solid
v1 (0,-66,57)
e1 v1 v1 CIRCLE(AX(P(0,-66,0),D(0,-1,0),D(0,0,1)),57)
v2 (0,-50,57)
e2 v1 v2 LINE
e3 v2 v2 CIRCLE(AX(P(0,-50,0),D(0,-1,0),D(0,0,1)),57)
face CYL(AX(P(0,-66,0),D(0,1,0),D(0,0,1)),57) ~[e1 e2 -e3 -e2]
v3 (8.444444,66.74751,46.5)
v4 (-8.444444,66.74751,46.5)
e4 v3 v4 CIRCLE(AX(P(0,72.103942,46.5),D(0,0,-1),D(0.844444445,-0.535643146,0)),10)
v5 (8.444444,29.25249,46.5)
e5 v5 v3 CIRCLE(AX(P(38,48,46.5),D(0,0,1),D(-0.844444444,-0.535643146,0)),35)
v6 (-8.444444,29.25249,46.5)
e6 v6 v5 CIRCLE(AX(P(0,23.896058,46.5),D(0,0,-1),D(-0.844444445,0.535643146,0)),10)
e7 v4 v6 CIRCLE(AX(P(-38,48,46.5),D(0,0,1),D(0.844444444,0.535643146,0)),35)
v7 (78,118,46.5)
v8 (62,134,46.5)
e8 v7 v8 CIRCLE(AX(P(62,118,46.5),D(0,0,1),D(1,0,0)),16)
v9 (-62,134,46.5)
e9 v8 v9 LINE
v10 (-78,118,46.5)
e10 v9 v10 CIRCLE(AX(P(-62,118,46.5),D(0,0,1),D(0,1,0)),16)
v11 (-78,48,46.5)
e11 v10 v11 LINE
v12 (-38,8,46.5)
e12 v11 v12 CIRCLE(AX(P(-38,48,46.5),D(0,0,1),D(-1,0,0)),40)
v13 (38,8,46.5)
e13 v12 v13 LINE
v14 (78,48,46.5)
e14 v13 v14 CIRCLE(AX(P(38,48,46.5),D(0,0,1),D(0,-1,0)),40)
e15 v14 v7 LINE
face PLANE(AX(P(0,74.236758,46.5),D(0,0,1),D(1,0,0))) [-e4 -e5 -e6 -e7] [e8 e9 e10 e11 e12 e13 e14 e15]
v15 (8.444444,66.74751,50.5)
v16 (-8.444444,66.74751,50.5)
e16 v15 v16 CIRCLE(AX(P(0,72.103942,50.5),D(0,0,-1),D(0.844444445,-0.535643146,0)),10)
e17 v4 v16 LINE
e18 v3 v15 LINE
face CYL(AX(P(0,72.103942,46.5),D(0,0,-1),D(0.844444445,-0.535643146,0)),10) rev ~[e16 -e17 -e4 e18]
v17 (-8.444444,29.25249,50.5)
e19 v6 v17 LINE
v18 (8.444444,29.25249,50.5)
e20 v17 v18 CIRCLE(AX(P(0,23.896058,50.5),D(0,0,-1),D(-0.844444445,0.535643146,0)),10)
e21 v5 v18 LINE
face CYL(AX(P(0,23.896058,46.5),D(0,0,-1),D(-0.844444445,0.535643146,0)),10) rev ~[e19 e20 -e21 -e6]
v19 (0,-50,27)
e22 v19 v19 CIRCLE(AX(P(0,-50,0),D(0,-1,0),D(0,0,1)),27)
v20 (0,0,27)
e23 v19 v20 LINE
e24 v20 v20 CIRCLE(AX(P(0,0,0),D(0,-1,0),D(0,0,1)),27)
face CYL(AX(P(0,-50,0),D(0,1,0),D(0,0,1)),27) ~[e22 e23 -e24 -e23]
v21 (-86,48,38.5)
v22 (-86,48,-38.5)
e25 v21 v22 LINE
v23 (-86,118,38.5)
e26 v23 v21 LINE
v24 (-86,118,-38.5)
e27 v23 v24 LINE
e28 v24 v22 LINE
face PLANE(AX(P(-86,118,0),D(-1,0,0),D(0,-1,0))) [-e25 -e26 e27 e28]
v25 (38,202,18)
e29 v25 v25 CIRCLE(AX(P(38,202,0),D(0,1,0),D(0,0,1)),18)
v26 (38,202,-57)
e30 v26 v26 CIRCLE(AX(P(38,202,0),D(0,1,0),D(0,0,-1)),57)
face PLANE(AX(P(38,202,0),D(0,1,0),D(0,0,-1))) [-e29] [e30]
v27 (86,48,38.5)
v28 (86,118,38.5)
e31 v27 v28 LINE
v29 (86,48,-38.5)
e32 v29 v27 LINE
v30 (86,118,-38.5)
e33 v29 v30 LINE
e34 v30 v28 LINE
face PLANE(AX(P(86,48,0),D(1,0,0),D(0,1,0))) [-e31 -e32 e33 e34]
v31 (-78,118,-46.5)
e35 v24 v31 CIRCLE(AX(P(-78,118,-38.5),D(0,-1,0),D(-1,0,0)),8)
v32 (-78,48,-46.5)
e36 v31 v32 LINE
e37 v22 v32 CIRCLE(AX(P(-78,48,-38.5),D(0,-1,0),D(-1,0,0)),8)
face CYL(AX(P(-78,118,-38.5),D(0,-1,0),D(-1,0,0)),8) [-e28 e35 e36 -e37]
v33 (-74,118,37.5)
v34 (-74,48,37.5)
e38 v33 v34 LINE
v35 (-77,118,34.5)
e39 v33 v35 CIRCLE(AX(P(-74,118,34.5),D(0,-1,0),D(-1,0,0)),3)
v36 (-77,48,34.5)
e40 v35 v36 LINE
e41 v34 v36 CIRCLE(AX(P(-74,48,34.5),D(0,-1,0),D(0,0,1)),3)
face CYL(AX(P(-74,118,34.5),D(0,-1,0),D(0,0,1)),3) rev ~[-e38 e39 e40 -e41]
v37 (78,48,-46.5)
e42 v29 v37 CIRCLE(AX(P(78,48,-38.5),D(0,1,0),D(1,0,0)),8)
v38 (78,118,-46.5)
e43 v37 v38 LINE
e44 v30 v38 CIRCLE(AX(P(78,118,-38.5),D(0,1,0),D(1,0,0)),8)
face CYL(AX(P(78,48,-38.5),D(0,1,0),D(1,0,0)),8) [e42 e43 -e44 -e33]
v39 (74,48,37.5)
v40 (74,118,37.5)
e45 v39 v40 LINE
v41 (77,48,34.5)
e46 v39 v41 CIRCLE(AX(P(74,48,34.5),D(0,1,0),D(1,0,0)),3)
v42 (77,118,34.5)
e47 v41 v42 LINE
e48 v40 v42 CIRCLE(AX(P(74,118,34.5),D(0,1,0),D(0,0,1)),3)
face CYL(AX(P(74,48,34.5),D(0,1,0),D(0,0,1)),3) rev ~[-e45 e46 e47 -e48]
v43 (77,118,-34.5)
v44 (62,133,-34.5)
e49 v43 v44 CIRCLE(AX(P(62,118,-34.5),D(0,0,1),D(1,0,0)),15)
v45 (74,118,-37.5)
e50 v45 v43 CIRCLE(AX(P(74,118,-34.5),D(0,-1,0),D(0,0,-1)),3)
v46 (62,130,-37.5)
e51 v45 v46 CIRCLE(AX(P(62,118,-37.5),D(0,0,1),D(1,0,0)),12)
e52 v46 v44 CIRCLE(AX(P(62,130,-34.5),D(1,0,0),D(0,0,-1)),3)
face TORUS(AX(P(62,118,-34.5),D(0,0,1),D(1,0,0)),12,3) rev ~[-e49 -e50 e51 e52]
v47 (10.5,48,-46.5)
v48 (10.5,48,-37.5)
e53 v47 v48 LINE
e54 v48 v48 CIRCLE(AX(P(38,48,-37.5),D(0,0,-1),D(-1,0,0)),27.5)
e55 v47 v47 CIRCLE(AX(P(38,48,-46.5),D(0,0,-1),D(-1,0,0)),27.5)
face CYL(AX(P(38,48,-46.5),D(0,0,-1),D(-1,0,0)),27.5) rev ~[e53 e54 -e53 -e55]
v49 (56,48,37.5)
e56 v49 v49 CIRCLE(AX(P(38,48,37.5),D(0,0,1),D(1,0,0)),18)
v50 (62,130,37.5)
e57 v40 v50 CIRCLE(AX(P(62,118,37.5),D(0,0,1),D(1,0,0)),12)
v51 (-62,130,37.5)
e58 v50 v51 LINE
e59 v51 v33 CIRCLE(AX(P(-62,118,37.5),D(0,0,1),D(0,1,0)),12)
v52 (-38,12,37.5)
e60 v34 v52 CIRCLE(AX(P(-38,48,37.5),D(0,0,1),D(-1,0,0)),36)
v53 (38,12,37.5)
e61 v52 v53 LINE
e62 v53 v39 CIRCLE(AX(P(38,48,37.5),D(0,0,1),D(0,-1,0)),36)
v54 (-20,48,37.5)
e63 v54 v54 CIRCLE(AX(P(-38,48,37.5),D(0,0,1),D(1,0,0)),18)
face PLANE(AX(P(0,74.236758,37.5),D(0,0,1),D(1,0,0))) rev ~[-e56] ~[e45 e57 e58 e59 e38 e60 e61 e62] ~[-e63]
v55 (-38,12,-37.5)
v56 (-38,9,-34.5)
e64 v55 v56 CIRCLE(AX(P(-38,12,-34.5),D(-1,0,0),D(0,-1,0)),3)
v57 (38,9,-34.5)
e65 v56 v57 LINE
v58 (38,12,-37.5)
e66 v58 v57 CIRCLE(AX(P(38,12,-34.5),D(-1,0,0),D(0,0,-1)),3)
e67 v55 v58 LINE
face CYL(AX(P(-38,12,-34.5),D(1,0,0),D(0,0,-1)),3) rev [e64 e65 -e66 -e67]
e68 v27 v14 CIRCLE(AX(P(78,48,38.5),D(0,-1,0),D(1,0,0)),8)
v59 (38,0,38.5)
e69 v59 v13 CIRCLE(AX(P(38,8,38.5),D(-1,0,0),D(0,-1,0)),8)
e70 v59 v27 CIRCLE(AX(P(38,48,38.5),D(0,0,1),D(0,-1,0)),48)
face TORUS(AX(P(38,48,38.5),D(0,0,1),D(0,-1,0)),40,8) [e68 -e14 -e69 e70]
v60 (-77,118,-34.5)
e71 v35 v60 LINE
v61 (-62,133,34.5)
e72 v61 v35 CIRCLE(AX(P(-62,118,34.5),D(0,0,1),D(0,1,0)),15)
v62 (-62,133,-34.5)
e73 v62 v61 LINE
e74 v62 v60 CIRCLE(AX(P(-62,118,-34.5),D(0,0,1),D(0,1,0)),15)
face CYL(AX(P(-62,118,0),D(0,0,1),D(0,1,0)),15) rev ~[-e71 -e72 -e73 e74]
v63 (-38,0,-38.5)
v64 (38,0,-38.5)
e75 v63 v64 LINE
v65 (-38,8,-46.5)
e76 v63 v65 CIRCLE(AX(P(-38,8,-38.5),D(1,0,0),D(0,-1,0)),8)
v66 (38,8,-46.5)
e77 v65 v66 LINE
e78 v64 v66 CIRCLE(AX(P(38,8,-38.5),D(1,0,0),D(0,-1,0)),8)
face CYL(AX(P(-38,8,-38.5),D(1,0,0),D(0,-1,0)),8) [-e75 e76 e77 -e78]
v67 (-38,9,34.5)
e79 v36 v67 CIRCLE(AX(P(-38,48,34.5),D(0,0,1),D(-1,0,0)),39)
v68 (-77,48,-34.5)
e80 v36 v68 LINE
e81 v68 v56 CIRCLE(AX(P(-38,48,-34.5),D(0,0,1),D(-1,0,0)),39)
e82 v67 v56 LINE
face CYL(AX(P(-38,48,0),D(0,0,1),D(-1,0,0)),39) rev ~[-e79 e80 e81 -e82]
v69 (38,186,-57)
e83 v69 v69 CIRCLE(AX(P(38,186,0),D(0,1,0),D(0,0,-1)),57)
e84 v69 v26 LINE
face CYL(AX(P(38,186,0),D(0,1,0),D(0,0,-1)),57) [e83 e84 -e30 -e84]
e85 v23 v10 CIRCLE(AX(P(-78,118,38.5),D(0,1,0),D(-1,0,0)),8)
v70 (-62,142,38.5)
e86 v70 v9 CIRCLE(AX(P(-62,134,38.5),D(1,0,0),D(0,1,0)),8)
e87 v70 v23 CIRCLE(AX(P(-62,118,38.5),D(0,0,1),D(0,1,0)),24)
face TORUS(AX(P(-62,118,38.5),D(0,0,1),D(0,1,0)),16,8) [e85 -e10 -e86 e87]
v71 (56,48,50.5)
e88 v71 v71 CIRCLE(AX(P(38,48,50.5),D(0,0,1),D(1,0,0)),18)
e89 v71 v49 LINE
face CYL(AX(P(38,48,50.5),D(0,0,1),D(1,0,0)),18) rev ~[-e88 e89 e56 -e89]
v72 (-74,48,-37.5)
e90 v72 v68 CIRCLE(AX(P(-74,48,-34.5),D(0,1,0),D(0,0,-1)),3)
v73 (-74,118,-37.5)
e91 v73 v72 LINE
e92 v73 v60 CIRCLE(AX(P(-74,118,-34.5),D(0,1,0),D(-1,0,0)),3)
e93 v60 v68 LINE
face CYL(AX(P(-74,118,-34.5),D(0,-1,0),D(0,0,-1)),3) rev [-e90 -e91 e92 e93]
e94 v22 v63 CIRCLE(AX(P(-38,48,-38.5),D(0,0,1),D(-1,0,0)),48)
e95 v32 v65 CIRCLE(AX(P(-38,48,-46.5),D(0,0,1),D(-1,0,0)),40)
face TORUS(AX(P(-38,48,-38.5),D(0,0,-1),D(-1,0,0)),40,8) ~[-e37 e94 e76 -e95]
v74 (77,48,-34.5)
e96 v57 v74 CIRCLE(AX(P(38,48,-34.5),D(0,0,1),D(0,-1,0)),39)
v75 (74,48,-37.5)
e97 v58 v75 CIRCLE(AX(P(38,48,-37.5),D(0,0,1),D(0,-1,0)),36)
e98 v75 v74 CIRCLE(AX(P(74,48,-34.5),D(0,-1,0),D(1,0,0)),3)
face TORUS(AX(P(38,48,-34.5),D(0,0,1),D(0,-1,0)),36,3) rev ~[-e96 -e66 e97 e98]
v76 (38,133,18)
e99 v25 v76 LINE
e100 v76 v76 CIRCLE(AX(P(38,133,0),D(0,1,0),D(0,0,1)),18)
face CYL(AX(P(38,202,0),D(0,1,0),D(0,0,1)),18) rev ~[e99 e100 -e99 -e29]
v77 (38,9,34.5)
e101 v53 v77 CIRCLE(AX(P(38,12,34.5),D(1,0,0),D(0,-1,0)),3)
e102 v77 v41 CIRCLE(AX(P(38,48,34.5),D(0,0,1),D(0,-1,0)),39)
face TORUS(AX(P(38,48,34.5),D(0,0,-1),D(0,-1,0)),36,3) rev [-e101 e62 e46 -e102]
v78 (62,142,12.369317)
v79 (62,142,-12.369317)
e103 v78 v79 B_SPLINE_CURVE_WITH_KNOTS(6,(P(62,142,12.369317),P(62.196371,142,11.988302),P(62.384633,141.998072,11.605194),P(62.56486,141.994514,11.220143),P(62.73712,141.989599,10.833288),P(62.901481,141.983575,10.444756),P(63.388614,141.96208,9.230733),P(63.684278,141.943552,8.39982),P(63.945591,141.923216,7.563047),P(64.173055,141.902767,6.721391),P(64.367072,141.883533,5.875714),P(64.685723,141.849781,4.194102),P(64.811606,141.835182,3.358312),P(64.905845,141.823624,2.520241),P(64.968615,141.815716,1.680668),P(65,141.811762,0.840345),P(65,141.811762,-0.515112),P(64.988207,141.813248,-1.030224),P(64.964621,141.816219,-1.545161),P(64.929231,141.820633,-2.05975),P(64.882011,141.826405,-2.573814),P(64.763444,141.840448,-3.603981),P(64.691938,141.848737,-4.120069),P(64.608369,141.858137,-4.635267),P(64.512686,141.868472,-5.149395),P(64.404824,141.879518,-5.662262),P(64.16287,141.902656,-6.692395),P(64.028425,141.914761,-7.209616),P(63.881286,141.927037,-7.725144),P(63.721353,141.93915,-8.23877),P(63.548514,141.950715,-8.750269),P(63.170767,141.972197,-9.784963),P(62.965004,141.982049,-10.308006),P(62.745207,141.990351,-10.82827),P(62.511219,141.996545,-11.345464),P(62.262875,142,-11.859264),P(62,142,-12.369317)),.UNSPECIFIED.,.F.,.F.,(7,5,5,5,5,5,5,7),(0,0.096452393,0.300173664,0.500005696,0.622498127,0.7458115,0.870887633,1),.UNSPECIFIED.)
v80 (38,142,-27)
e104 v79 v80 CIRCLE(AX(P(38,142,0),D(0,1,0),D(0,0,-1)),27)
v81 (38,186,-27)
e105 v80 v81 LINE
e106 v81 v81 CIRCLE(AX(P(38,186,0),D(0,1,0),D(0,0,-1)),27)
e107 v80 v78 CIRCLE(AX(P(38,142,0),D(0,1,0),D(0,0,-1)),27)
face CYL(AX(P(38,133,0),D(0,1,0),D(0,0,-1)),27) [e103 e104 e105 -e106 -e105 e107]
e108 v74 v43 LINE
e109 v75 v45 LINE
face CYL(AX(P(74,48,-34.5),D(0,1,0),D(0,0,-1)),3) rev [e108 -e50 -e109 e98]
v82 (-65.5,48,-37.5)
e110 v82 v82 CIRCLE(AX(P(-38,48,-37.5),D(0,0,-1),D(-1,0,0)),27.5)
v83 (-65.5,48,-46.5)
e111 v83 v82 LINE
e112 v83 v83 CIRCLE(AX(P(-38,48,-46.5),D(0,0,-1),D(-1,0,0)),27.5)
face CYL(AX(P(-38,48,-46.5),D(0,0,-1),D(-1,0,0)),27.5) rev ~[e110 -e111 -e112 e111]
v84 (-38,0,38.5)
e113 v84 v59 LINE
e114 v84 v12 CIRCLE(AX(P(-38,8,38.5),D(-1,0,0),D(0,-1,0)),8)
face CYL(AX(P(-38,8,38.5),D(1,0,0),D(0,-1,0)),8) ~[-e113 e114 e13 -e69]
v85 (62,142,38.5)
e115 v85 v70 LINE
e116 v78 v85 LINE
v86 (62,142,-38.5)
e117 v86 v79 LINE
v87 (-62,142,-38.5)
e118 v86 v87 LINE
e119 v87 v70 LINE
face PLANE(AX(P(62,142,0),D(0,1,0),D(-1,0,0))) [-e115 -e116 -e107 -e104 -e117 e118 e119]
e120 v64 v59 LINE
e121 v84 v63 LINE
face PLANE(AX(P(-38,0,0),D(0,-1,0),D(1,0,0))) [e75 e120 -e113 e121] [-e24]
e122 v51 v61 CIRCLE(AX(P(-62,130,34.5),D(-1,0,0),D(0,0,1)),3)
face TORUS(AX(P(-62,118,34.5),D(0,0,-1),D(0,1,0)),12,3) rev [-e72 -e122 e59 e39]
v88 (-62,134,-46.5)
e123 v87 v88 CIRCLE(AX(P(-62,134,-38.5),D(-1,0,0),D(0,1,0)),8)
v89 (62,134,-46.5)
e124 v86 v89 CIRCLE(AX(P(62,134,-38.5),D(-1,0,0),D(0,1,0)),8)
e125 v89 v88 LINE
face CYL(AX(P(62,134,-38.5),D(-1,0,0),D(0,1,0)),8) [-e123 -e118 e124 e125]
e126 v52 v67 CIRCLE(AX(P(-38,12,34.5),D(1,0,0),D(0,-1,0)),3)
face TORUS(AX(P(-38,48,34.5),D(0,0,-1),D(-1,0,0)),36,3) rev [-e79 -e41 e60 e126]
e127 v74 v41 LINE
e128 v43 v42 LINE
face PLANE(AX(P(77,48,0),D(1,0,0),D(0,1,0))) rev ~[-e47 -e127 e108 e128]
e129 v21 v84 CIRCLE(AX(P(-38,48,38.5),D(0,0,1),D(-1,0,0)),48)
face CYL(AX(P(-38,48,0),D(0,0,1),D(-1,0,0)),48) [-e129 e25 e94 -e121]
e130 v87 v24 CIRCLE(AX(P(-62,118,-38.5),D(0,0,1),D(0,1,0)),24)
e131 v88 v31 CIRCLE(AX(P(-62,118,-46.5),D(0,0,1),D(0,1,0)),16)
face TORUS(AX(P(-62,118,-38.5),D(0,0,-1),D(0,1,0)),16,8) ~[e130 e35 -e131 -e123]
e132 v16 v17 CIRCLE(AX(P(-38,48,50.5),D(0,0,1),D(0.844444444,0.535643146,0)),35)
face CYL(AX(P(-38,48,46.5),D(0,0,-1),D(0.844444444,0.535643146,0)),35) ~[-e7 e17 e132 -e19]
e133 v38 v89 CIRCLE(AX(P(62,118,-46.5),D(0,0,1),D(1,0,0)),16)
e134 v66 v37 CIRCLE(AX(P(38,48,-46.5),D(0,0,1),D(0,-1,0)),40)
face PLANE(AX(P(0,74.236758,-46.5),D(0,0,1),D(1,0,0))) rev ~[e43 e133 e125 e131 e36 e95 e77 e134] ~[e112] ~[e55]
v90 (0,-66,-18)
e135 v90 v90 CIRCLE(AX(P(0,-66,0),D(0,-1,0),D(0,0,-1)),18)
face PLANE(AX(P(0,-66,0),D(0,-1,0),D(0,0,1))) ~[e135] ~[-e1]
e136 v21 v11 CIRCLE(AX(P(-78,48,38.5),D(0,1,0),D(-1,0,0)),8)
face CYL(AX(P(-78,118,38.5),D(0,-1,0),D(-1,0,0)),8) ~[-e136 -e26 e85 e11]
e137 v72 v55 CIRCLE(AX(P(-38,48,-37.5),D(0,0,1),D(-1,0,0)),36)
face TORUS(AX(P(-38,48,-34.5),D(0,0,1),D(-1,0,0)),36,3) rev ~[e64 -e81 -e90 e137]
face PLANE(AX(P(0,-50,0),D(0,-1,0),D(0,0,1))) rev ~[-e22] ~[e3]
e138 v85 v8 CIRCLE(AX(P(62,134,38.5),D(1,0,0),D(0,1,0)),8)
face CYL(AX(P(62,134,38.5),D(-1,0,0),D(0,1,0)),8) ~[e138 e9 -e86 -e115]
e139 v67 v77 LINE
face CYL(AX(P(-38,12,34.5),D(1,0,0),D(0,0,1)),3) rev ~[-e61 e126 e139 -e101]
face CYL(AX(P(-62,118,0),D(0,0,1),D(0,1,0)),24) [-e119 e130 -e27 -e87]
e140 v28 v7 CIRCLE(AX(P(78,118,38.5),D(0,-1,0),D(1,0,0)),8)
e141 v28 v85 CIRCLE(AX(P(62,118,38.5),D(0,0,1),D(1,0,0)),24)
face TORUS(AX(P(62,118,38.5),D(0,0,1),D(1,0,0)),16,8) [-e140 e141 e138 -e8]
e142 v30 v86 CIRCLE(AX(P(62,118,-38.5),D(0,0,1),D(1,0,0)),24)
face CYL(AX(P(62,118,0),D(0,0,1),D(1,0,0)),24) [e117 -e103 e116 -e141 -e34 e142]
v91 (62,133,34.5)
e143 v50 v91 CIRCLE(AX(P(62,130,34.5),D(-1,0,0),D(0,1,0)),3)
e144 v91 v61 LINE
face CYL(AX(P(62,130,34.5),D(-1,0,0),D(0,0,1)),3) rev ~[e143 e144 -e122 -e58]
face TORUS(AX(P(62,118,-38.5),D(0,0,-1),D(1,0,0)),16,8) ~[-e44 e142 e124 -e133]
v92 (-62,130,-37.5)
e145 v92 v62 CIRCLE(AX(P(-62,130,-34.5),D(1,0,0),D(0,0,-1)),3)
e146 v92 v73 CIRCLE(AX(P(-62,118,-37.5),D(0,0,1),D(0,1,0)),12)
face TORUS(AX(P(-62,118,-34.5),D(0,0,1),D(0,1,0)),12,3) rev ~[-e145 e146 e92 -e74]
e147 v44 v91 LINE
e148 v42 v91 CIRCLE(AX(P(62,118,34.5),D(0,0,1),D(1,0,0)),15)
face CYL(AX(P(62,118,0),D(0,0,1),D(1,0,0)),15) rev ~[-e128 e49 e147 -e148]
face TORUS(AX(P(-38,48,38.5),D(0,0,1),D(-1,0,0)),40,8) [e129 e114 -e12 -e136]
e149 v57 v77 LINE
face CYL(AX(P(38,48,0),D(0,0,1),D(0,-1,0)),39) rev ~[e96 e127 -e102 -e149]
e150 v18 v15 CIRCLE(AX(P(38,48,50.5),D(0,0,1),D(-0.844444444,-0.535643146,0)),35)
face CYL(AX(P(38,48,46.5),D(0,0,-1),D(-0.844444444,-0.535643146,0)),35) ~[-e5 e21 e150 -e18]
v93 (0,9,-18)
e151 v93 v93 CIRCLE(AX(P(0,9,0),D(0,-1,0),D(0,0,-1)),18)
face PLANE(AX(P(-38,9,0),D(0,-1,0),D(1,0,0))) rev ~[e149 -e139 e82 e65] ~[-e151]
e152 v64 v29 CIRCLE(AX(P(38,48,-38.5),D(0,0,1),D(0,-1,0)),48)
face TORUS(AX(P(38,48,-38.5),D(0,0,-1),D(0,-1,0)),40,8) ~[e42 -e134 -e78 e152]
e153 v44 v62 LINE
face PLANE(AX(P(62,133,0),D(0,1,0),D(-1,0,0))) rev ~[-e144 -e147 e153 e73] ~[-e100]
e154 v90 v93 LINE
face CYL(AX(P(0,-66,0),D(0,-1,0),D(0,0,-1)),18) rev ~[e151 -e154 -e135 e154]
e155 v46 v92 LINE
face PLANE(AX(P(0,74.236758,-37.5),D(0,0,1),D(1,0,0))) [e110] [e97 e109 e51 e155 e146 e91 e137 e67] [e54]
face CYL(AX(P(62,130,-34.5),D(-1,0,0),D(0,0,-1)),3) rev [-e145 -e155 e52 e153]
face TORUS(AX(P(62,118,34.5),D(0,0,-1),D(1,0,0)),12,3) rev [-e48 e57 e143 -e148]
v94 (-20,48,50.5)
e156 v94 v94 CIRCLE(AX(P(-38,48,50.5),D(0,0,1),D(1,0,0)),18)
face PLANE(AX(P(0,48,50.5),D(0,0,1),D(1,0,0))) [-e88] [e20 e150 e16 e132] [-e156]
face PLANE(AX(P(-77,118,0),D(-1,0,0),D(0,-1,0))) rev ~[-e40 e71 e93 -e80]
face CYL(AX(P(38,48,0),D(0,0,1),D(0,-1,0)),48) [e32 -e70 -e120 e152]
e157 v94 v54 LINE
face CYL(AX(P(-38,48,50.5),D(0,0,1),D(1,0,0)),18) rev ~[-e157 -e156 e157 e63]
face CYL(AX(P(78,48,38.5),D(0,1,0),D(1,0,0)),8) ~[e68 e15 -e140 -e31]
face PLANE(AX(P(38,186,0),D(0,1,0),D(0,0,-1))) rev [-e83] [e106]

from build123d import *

# Parameters (mm, degrees)
EXTRUDE_1_DEPTH     = 46.5
FILLET_1_R          = 8
SHELL_1_T           = 9
FILLET_2_R          = 3
EXTRUDE_2_DEPTH     = 4
CUT_EXTRUDE_1_REACH = 194.273
SKETCH_3_R          = 18
CUT_EXTRUDE_2_REACH = 194.273
SKETCH_4_R          = 27.5
CUT_EXTRUDE_3_REACH = 291.997
SKETCH_7_R          = 18
CUT_EXTRUDE_4_REACH = 291.997
SKETCH_8_R          = 18


with BuildPart() as part:
    # 草圖1 → 伸長1 (new, symmetric)
    with BuildSketch(Plane.XY):
        with BuildLine():
            Line((-38, 0), (38, 0))
            ThreePointArc((38, 0), (71.941125497, 14.058874503), (86, 48))
            Line((86, 48), (86, 118))
            ThreePointArc((86, 118), (78.970562748, 134.970562748), (62, 142))
            Line((62, 142), (-62, 142))
            ThreePointArc((-62, 142), (-78.970562748, 134.970562748), (-86, 118))
            Line((-86, 118), (-86, 48))
            ThreePointArc((-86, 48), (-71.941125497, 14.058874503), (-38, 0))
        make_face()
    extrude(amount=EXTRUDE_1_DEPTH, both=True)

    # 圓角1
    fillet_1_edges = [part.edges().sort_by_distance(p)[0] for p in [
        (78.970562748, 134.970562748, 46.5),
        (0, 142, 46.5),
        (-78.970562748, 134.970562748, 46.5),
        (-86, 83, 46.5),
        (-71.941125497, 14.058874503, 46.5),
        (0, 0, 46.5),
        (71.941125497, 14.058874503, 46.5),
        (0, 0, -46.5),
        (86, 83, 46.5),
        (-71.941125497, 14.058874503, -46.5),
        (-86, 83, -46.5),
        (-78.970562748, 134.970562748, -46.5),
        (0, 142, -46.5),
        (78.970562748, 134.970562748, -46.5),
        (86, 83, -46.5),
        (71.941125497, 14.058874503, -46.5),
    ]]
    fillet(fillet_1_edges, radius=FILLET_1_R)

    # 薄殼1 (no face opened: a closed hollow body)
    add(offset(amount=-SHELL_1_T, mode=Mode.PRIVATE), mode=Mode.SUBTRACT)

    # 圓角2
    fillet_2_edges = [part.edges().sort_by_distance(p)[0] for p in [
        (65.577164466, 20.422835534, 37.5),
        (77, 83, 37.5),
        (72.606601718, 128.606601718, 37.5),
        (0, 133, -37.5),
        (-72.606601718, 128.606601718, -37.5),
        (-77, 83, -37.5),
        (-65.577164466, 20.422835534, 37.5),
        (0, 9, 37.5),
        (0, 133, 37.5),
        (-72.606601718, 128.606601718, 37.5),
        (-77, 83, 37.5),
        (72.606601718, 128.606601718, -37.5),
        (77, 83, -37.5),
        (65.577164466, 20.422835534, -37.5),
        (0, 9, -37.5),
        (-65.577164466, 20.422835534, -37.5),
    ]]
    fillet(fillet_2_edges, radius=FILLET_2_R)

    # 草圖2 → 伸長2 (add)
    with BuildSketch(Plane.XY.offset(46.5)):
        with BuildLine():
            ThreePointArc((8.444444444, 29.252489877), (73, 48), (8.444444444, 66.747510123))
            ThreePointArc((8.444444444, 66.747510123), (0, 62.103941586), (-8.444444444, 66.747510123))
            ThreePointArc((-8.444444444, 66.747510123), (-73, 48), (-8.444444444, 29.252489877))
            ThreePointArc((-8.444444444, 29.252489877), (0, 33.896058414), (8.444444444, 29.252489877))
        make_face()
    extrude(amount=EXTRUDE_2_DEPTH)

    # 草圖3 → 除料-伸長1 (cut, up to next)
    with BuildSketch(Plane.XY.offset(50.5), mode=Mode.PRIVATE) as cut_extrude_1_sk1:
        with Locations((38, 48)):
            Circle(SKETCH_3_R)
    cut_extrude_1_tool1 = extrude(cut_extrude_1_sk1.sketch, amount=-CUT_EXTRUDE_1_REACH, mode=Mode.PRIVATE) & part.part
    # 草圖3 → 除料-伸長1 (cut, up to next)
    with BuildSketch(Plane.XY.offset(50.5), mode=Mode.PRIVATE) as cut_extrude_1_sk2:
        with Locations((-38, 48)):
            Circle(SKETCH_3_R)
    cut_extrude_1_tool2 = extrude(cut_extrude_1_sk2.sketch, amount=-CUT_EXTRUDE_1_REACH, mode=Mode.PRIVATE) & part.part
    add(cut_extrude_1_tool1.solids().sort_by_distance((38, 48, 50.5))[0], mode=Mode.SUBTRACT)
    add(cut_extrude_1_tool2.solids().sort_by_distance((-38, 48, 50.5))[0], mode=Mode.SUBTRACT)

    # 草圖4 → 除料-伸長2 (cut, up to next)
    with BuildSketch(Plane(origin=(0, 0, -46.5), x_dir=(-1, 0, 0), z_dir=(0, 0, -1)), mode=Mode.PRIVATE) as cut_extrude_2_sk1:
        with Locations((-38, 48)):
            Circle(SKETCH_4_R)
    cut_extrude_2_tool1 = extrude(cut_extrude_2_sk1.sketch, amount=-CUT_EXTRUDE_2_REACH, mode=Mode.PRIVATE) & part.part
    # 草圖4 → 除料-伸長2 (cut, up to next)
    with BuildSketch(Plane(origin=(0, 0, -46.5), x_dir=(-1, 0, 0), z_dir=(0, 0, -1)), mode=Mode.PRIVATE) as cut_extrude_2_sk2:
        with Locations((38, 48)):
            Circle(SKETCH_4_R)
    cut_extrude_2_tool2 = extrude(cut_extrude_2_sk2.sketch, amount=-CUT_EXTRUDE_2_REACH, mode=Mode.PRIVATE) & part.part
    add(cut_extrude_2_tool1.solids().sort_by_distance((38, 48, -46.5))[0], mode=Mode.SUBTRACT)
    add(cut_extrude_2_tool2.solids().sort_by_distance((-38, 48, -46.5))[0], mode=Mode.SUBTRACT)

    # 草圖5 → 旋轉1 (revolve)
    with BuildSketch(Plane.XY, mode=Mode.PRIVATE) as revolve_1_sk:
        Polygon((0, -66), (57, -66), (57, -50), (27, -50), (27, 0), (0, 0), align=None)
    revolve(revolve_1_sk.sketch.rotate(Axis((0, 0, 0), (0, -1, 0)), 90), axis=Axis((0, 0, 0), (0, -1, 0)))

    # 草圖6 → 旋轉2 (revolve)
    with BuildSketch(Plane.XY, mode=Mode.PRIVATE) as revolve_2_sk:
        Polygon((11, 133), (11, 186), (-19, 186), (-19, 202), (38, 202), (38, 133), align=None)
    revolve(revolve_2_sk.sketch.rotate(Axis((38, 124.753510303, 0), (0, 1, 0)), 270), axis=Axis((38, 124.753510303, 0), (0, 1, 0)))

    # 草圖7 → 除料-伸長3 (cut, up to next)
    with BuildSketch(Plane.XZ.offset(66), mode=Mode.PRIVATE) as cut_extrude_3_sk1:
        with Locations(Location((0, 0, 0), (0, 0, 270))):
            Circle(SKETCH_7_R)
    cut_extrude_3_tool1 = extrude(cut_extrude_3_sk1.sketch, amount=-CUT_EXTRUDE_3_REACH, mode=Mode.PRIVATE) & part.part
    add(cut_extrude_3_tool1.solids().sort_by_distance((0, -66, 0))[0], mode=Mode.SUBTRACT)

    # 草圖8 → 除料-伸長4 (cut, up to next)
    with BuildSketch(Plane(origin=(0, 202, 0), x_dir=(-1, 0, 0), z_dir=(0, 1, 0)), mode=Mode.PRIVATE) as cut_extrude_4_sk1:
        with Locations(Location((-38, 0, 0), (0, 0, 90))):
            Circle(SKETCH_8_R)
    cut_extrude_4_tool1 = extrude(cut_extrude_4_sk1.sketch, amount=-CUT_EXTRUDE_4_REACH, mode=Mode.PRIVATE) & part.part
    add(cut_extrude_4_tool1.solids().sort_by_distance((38, 202, 0))[0], mode=Mode.SUBTRACT)


solid = part.part
